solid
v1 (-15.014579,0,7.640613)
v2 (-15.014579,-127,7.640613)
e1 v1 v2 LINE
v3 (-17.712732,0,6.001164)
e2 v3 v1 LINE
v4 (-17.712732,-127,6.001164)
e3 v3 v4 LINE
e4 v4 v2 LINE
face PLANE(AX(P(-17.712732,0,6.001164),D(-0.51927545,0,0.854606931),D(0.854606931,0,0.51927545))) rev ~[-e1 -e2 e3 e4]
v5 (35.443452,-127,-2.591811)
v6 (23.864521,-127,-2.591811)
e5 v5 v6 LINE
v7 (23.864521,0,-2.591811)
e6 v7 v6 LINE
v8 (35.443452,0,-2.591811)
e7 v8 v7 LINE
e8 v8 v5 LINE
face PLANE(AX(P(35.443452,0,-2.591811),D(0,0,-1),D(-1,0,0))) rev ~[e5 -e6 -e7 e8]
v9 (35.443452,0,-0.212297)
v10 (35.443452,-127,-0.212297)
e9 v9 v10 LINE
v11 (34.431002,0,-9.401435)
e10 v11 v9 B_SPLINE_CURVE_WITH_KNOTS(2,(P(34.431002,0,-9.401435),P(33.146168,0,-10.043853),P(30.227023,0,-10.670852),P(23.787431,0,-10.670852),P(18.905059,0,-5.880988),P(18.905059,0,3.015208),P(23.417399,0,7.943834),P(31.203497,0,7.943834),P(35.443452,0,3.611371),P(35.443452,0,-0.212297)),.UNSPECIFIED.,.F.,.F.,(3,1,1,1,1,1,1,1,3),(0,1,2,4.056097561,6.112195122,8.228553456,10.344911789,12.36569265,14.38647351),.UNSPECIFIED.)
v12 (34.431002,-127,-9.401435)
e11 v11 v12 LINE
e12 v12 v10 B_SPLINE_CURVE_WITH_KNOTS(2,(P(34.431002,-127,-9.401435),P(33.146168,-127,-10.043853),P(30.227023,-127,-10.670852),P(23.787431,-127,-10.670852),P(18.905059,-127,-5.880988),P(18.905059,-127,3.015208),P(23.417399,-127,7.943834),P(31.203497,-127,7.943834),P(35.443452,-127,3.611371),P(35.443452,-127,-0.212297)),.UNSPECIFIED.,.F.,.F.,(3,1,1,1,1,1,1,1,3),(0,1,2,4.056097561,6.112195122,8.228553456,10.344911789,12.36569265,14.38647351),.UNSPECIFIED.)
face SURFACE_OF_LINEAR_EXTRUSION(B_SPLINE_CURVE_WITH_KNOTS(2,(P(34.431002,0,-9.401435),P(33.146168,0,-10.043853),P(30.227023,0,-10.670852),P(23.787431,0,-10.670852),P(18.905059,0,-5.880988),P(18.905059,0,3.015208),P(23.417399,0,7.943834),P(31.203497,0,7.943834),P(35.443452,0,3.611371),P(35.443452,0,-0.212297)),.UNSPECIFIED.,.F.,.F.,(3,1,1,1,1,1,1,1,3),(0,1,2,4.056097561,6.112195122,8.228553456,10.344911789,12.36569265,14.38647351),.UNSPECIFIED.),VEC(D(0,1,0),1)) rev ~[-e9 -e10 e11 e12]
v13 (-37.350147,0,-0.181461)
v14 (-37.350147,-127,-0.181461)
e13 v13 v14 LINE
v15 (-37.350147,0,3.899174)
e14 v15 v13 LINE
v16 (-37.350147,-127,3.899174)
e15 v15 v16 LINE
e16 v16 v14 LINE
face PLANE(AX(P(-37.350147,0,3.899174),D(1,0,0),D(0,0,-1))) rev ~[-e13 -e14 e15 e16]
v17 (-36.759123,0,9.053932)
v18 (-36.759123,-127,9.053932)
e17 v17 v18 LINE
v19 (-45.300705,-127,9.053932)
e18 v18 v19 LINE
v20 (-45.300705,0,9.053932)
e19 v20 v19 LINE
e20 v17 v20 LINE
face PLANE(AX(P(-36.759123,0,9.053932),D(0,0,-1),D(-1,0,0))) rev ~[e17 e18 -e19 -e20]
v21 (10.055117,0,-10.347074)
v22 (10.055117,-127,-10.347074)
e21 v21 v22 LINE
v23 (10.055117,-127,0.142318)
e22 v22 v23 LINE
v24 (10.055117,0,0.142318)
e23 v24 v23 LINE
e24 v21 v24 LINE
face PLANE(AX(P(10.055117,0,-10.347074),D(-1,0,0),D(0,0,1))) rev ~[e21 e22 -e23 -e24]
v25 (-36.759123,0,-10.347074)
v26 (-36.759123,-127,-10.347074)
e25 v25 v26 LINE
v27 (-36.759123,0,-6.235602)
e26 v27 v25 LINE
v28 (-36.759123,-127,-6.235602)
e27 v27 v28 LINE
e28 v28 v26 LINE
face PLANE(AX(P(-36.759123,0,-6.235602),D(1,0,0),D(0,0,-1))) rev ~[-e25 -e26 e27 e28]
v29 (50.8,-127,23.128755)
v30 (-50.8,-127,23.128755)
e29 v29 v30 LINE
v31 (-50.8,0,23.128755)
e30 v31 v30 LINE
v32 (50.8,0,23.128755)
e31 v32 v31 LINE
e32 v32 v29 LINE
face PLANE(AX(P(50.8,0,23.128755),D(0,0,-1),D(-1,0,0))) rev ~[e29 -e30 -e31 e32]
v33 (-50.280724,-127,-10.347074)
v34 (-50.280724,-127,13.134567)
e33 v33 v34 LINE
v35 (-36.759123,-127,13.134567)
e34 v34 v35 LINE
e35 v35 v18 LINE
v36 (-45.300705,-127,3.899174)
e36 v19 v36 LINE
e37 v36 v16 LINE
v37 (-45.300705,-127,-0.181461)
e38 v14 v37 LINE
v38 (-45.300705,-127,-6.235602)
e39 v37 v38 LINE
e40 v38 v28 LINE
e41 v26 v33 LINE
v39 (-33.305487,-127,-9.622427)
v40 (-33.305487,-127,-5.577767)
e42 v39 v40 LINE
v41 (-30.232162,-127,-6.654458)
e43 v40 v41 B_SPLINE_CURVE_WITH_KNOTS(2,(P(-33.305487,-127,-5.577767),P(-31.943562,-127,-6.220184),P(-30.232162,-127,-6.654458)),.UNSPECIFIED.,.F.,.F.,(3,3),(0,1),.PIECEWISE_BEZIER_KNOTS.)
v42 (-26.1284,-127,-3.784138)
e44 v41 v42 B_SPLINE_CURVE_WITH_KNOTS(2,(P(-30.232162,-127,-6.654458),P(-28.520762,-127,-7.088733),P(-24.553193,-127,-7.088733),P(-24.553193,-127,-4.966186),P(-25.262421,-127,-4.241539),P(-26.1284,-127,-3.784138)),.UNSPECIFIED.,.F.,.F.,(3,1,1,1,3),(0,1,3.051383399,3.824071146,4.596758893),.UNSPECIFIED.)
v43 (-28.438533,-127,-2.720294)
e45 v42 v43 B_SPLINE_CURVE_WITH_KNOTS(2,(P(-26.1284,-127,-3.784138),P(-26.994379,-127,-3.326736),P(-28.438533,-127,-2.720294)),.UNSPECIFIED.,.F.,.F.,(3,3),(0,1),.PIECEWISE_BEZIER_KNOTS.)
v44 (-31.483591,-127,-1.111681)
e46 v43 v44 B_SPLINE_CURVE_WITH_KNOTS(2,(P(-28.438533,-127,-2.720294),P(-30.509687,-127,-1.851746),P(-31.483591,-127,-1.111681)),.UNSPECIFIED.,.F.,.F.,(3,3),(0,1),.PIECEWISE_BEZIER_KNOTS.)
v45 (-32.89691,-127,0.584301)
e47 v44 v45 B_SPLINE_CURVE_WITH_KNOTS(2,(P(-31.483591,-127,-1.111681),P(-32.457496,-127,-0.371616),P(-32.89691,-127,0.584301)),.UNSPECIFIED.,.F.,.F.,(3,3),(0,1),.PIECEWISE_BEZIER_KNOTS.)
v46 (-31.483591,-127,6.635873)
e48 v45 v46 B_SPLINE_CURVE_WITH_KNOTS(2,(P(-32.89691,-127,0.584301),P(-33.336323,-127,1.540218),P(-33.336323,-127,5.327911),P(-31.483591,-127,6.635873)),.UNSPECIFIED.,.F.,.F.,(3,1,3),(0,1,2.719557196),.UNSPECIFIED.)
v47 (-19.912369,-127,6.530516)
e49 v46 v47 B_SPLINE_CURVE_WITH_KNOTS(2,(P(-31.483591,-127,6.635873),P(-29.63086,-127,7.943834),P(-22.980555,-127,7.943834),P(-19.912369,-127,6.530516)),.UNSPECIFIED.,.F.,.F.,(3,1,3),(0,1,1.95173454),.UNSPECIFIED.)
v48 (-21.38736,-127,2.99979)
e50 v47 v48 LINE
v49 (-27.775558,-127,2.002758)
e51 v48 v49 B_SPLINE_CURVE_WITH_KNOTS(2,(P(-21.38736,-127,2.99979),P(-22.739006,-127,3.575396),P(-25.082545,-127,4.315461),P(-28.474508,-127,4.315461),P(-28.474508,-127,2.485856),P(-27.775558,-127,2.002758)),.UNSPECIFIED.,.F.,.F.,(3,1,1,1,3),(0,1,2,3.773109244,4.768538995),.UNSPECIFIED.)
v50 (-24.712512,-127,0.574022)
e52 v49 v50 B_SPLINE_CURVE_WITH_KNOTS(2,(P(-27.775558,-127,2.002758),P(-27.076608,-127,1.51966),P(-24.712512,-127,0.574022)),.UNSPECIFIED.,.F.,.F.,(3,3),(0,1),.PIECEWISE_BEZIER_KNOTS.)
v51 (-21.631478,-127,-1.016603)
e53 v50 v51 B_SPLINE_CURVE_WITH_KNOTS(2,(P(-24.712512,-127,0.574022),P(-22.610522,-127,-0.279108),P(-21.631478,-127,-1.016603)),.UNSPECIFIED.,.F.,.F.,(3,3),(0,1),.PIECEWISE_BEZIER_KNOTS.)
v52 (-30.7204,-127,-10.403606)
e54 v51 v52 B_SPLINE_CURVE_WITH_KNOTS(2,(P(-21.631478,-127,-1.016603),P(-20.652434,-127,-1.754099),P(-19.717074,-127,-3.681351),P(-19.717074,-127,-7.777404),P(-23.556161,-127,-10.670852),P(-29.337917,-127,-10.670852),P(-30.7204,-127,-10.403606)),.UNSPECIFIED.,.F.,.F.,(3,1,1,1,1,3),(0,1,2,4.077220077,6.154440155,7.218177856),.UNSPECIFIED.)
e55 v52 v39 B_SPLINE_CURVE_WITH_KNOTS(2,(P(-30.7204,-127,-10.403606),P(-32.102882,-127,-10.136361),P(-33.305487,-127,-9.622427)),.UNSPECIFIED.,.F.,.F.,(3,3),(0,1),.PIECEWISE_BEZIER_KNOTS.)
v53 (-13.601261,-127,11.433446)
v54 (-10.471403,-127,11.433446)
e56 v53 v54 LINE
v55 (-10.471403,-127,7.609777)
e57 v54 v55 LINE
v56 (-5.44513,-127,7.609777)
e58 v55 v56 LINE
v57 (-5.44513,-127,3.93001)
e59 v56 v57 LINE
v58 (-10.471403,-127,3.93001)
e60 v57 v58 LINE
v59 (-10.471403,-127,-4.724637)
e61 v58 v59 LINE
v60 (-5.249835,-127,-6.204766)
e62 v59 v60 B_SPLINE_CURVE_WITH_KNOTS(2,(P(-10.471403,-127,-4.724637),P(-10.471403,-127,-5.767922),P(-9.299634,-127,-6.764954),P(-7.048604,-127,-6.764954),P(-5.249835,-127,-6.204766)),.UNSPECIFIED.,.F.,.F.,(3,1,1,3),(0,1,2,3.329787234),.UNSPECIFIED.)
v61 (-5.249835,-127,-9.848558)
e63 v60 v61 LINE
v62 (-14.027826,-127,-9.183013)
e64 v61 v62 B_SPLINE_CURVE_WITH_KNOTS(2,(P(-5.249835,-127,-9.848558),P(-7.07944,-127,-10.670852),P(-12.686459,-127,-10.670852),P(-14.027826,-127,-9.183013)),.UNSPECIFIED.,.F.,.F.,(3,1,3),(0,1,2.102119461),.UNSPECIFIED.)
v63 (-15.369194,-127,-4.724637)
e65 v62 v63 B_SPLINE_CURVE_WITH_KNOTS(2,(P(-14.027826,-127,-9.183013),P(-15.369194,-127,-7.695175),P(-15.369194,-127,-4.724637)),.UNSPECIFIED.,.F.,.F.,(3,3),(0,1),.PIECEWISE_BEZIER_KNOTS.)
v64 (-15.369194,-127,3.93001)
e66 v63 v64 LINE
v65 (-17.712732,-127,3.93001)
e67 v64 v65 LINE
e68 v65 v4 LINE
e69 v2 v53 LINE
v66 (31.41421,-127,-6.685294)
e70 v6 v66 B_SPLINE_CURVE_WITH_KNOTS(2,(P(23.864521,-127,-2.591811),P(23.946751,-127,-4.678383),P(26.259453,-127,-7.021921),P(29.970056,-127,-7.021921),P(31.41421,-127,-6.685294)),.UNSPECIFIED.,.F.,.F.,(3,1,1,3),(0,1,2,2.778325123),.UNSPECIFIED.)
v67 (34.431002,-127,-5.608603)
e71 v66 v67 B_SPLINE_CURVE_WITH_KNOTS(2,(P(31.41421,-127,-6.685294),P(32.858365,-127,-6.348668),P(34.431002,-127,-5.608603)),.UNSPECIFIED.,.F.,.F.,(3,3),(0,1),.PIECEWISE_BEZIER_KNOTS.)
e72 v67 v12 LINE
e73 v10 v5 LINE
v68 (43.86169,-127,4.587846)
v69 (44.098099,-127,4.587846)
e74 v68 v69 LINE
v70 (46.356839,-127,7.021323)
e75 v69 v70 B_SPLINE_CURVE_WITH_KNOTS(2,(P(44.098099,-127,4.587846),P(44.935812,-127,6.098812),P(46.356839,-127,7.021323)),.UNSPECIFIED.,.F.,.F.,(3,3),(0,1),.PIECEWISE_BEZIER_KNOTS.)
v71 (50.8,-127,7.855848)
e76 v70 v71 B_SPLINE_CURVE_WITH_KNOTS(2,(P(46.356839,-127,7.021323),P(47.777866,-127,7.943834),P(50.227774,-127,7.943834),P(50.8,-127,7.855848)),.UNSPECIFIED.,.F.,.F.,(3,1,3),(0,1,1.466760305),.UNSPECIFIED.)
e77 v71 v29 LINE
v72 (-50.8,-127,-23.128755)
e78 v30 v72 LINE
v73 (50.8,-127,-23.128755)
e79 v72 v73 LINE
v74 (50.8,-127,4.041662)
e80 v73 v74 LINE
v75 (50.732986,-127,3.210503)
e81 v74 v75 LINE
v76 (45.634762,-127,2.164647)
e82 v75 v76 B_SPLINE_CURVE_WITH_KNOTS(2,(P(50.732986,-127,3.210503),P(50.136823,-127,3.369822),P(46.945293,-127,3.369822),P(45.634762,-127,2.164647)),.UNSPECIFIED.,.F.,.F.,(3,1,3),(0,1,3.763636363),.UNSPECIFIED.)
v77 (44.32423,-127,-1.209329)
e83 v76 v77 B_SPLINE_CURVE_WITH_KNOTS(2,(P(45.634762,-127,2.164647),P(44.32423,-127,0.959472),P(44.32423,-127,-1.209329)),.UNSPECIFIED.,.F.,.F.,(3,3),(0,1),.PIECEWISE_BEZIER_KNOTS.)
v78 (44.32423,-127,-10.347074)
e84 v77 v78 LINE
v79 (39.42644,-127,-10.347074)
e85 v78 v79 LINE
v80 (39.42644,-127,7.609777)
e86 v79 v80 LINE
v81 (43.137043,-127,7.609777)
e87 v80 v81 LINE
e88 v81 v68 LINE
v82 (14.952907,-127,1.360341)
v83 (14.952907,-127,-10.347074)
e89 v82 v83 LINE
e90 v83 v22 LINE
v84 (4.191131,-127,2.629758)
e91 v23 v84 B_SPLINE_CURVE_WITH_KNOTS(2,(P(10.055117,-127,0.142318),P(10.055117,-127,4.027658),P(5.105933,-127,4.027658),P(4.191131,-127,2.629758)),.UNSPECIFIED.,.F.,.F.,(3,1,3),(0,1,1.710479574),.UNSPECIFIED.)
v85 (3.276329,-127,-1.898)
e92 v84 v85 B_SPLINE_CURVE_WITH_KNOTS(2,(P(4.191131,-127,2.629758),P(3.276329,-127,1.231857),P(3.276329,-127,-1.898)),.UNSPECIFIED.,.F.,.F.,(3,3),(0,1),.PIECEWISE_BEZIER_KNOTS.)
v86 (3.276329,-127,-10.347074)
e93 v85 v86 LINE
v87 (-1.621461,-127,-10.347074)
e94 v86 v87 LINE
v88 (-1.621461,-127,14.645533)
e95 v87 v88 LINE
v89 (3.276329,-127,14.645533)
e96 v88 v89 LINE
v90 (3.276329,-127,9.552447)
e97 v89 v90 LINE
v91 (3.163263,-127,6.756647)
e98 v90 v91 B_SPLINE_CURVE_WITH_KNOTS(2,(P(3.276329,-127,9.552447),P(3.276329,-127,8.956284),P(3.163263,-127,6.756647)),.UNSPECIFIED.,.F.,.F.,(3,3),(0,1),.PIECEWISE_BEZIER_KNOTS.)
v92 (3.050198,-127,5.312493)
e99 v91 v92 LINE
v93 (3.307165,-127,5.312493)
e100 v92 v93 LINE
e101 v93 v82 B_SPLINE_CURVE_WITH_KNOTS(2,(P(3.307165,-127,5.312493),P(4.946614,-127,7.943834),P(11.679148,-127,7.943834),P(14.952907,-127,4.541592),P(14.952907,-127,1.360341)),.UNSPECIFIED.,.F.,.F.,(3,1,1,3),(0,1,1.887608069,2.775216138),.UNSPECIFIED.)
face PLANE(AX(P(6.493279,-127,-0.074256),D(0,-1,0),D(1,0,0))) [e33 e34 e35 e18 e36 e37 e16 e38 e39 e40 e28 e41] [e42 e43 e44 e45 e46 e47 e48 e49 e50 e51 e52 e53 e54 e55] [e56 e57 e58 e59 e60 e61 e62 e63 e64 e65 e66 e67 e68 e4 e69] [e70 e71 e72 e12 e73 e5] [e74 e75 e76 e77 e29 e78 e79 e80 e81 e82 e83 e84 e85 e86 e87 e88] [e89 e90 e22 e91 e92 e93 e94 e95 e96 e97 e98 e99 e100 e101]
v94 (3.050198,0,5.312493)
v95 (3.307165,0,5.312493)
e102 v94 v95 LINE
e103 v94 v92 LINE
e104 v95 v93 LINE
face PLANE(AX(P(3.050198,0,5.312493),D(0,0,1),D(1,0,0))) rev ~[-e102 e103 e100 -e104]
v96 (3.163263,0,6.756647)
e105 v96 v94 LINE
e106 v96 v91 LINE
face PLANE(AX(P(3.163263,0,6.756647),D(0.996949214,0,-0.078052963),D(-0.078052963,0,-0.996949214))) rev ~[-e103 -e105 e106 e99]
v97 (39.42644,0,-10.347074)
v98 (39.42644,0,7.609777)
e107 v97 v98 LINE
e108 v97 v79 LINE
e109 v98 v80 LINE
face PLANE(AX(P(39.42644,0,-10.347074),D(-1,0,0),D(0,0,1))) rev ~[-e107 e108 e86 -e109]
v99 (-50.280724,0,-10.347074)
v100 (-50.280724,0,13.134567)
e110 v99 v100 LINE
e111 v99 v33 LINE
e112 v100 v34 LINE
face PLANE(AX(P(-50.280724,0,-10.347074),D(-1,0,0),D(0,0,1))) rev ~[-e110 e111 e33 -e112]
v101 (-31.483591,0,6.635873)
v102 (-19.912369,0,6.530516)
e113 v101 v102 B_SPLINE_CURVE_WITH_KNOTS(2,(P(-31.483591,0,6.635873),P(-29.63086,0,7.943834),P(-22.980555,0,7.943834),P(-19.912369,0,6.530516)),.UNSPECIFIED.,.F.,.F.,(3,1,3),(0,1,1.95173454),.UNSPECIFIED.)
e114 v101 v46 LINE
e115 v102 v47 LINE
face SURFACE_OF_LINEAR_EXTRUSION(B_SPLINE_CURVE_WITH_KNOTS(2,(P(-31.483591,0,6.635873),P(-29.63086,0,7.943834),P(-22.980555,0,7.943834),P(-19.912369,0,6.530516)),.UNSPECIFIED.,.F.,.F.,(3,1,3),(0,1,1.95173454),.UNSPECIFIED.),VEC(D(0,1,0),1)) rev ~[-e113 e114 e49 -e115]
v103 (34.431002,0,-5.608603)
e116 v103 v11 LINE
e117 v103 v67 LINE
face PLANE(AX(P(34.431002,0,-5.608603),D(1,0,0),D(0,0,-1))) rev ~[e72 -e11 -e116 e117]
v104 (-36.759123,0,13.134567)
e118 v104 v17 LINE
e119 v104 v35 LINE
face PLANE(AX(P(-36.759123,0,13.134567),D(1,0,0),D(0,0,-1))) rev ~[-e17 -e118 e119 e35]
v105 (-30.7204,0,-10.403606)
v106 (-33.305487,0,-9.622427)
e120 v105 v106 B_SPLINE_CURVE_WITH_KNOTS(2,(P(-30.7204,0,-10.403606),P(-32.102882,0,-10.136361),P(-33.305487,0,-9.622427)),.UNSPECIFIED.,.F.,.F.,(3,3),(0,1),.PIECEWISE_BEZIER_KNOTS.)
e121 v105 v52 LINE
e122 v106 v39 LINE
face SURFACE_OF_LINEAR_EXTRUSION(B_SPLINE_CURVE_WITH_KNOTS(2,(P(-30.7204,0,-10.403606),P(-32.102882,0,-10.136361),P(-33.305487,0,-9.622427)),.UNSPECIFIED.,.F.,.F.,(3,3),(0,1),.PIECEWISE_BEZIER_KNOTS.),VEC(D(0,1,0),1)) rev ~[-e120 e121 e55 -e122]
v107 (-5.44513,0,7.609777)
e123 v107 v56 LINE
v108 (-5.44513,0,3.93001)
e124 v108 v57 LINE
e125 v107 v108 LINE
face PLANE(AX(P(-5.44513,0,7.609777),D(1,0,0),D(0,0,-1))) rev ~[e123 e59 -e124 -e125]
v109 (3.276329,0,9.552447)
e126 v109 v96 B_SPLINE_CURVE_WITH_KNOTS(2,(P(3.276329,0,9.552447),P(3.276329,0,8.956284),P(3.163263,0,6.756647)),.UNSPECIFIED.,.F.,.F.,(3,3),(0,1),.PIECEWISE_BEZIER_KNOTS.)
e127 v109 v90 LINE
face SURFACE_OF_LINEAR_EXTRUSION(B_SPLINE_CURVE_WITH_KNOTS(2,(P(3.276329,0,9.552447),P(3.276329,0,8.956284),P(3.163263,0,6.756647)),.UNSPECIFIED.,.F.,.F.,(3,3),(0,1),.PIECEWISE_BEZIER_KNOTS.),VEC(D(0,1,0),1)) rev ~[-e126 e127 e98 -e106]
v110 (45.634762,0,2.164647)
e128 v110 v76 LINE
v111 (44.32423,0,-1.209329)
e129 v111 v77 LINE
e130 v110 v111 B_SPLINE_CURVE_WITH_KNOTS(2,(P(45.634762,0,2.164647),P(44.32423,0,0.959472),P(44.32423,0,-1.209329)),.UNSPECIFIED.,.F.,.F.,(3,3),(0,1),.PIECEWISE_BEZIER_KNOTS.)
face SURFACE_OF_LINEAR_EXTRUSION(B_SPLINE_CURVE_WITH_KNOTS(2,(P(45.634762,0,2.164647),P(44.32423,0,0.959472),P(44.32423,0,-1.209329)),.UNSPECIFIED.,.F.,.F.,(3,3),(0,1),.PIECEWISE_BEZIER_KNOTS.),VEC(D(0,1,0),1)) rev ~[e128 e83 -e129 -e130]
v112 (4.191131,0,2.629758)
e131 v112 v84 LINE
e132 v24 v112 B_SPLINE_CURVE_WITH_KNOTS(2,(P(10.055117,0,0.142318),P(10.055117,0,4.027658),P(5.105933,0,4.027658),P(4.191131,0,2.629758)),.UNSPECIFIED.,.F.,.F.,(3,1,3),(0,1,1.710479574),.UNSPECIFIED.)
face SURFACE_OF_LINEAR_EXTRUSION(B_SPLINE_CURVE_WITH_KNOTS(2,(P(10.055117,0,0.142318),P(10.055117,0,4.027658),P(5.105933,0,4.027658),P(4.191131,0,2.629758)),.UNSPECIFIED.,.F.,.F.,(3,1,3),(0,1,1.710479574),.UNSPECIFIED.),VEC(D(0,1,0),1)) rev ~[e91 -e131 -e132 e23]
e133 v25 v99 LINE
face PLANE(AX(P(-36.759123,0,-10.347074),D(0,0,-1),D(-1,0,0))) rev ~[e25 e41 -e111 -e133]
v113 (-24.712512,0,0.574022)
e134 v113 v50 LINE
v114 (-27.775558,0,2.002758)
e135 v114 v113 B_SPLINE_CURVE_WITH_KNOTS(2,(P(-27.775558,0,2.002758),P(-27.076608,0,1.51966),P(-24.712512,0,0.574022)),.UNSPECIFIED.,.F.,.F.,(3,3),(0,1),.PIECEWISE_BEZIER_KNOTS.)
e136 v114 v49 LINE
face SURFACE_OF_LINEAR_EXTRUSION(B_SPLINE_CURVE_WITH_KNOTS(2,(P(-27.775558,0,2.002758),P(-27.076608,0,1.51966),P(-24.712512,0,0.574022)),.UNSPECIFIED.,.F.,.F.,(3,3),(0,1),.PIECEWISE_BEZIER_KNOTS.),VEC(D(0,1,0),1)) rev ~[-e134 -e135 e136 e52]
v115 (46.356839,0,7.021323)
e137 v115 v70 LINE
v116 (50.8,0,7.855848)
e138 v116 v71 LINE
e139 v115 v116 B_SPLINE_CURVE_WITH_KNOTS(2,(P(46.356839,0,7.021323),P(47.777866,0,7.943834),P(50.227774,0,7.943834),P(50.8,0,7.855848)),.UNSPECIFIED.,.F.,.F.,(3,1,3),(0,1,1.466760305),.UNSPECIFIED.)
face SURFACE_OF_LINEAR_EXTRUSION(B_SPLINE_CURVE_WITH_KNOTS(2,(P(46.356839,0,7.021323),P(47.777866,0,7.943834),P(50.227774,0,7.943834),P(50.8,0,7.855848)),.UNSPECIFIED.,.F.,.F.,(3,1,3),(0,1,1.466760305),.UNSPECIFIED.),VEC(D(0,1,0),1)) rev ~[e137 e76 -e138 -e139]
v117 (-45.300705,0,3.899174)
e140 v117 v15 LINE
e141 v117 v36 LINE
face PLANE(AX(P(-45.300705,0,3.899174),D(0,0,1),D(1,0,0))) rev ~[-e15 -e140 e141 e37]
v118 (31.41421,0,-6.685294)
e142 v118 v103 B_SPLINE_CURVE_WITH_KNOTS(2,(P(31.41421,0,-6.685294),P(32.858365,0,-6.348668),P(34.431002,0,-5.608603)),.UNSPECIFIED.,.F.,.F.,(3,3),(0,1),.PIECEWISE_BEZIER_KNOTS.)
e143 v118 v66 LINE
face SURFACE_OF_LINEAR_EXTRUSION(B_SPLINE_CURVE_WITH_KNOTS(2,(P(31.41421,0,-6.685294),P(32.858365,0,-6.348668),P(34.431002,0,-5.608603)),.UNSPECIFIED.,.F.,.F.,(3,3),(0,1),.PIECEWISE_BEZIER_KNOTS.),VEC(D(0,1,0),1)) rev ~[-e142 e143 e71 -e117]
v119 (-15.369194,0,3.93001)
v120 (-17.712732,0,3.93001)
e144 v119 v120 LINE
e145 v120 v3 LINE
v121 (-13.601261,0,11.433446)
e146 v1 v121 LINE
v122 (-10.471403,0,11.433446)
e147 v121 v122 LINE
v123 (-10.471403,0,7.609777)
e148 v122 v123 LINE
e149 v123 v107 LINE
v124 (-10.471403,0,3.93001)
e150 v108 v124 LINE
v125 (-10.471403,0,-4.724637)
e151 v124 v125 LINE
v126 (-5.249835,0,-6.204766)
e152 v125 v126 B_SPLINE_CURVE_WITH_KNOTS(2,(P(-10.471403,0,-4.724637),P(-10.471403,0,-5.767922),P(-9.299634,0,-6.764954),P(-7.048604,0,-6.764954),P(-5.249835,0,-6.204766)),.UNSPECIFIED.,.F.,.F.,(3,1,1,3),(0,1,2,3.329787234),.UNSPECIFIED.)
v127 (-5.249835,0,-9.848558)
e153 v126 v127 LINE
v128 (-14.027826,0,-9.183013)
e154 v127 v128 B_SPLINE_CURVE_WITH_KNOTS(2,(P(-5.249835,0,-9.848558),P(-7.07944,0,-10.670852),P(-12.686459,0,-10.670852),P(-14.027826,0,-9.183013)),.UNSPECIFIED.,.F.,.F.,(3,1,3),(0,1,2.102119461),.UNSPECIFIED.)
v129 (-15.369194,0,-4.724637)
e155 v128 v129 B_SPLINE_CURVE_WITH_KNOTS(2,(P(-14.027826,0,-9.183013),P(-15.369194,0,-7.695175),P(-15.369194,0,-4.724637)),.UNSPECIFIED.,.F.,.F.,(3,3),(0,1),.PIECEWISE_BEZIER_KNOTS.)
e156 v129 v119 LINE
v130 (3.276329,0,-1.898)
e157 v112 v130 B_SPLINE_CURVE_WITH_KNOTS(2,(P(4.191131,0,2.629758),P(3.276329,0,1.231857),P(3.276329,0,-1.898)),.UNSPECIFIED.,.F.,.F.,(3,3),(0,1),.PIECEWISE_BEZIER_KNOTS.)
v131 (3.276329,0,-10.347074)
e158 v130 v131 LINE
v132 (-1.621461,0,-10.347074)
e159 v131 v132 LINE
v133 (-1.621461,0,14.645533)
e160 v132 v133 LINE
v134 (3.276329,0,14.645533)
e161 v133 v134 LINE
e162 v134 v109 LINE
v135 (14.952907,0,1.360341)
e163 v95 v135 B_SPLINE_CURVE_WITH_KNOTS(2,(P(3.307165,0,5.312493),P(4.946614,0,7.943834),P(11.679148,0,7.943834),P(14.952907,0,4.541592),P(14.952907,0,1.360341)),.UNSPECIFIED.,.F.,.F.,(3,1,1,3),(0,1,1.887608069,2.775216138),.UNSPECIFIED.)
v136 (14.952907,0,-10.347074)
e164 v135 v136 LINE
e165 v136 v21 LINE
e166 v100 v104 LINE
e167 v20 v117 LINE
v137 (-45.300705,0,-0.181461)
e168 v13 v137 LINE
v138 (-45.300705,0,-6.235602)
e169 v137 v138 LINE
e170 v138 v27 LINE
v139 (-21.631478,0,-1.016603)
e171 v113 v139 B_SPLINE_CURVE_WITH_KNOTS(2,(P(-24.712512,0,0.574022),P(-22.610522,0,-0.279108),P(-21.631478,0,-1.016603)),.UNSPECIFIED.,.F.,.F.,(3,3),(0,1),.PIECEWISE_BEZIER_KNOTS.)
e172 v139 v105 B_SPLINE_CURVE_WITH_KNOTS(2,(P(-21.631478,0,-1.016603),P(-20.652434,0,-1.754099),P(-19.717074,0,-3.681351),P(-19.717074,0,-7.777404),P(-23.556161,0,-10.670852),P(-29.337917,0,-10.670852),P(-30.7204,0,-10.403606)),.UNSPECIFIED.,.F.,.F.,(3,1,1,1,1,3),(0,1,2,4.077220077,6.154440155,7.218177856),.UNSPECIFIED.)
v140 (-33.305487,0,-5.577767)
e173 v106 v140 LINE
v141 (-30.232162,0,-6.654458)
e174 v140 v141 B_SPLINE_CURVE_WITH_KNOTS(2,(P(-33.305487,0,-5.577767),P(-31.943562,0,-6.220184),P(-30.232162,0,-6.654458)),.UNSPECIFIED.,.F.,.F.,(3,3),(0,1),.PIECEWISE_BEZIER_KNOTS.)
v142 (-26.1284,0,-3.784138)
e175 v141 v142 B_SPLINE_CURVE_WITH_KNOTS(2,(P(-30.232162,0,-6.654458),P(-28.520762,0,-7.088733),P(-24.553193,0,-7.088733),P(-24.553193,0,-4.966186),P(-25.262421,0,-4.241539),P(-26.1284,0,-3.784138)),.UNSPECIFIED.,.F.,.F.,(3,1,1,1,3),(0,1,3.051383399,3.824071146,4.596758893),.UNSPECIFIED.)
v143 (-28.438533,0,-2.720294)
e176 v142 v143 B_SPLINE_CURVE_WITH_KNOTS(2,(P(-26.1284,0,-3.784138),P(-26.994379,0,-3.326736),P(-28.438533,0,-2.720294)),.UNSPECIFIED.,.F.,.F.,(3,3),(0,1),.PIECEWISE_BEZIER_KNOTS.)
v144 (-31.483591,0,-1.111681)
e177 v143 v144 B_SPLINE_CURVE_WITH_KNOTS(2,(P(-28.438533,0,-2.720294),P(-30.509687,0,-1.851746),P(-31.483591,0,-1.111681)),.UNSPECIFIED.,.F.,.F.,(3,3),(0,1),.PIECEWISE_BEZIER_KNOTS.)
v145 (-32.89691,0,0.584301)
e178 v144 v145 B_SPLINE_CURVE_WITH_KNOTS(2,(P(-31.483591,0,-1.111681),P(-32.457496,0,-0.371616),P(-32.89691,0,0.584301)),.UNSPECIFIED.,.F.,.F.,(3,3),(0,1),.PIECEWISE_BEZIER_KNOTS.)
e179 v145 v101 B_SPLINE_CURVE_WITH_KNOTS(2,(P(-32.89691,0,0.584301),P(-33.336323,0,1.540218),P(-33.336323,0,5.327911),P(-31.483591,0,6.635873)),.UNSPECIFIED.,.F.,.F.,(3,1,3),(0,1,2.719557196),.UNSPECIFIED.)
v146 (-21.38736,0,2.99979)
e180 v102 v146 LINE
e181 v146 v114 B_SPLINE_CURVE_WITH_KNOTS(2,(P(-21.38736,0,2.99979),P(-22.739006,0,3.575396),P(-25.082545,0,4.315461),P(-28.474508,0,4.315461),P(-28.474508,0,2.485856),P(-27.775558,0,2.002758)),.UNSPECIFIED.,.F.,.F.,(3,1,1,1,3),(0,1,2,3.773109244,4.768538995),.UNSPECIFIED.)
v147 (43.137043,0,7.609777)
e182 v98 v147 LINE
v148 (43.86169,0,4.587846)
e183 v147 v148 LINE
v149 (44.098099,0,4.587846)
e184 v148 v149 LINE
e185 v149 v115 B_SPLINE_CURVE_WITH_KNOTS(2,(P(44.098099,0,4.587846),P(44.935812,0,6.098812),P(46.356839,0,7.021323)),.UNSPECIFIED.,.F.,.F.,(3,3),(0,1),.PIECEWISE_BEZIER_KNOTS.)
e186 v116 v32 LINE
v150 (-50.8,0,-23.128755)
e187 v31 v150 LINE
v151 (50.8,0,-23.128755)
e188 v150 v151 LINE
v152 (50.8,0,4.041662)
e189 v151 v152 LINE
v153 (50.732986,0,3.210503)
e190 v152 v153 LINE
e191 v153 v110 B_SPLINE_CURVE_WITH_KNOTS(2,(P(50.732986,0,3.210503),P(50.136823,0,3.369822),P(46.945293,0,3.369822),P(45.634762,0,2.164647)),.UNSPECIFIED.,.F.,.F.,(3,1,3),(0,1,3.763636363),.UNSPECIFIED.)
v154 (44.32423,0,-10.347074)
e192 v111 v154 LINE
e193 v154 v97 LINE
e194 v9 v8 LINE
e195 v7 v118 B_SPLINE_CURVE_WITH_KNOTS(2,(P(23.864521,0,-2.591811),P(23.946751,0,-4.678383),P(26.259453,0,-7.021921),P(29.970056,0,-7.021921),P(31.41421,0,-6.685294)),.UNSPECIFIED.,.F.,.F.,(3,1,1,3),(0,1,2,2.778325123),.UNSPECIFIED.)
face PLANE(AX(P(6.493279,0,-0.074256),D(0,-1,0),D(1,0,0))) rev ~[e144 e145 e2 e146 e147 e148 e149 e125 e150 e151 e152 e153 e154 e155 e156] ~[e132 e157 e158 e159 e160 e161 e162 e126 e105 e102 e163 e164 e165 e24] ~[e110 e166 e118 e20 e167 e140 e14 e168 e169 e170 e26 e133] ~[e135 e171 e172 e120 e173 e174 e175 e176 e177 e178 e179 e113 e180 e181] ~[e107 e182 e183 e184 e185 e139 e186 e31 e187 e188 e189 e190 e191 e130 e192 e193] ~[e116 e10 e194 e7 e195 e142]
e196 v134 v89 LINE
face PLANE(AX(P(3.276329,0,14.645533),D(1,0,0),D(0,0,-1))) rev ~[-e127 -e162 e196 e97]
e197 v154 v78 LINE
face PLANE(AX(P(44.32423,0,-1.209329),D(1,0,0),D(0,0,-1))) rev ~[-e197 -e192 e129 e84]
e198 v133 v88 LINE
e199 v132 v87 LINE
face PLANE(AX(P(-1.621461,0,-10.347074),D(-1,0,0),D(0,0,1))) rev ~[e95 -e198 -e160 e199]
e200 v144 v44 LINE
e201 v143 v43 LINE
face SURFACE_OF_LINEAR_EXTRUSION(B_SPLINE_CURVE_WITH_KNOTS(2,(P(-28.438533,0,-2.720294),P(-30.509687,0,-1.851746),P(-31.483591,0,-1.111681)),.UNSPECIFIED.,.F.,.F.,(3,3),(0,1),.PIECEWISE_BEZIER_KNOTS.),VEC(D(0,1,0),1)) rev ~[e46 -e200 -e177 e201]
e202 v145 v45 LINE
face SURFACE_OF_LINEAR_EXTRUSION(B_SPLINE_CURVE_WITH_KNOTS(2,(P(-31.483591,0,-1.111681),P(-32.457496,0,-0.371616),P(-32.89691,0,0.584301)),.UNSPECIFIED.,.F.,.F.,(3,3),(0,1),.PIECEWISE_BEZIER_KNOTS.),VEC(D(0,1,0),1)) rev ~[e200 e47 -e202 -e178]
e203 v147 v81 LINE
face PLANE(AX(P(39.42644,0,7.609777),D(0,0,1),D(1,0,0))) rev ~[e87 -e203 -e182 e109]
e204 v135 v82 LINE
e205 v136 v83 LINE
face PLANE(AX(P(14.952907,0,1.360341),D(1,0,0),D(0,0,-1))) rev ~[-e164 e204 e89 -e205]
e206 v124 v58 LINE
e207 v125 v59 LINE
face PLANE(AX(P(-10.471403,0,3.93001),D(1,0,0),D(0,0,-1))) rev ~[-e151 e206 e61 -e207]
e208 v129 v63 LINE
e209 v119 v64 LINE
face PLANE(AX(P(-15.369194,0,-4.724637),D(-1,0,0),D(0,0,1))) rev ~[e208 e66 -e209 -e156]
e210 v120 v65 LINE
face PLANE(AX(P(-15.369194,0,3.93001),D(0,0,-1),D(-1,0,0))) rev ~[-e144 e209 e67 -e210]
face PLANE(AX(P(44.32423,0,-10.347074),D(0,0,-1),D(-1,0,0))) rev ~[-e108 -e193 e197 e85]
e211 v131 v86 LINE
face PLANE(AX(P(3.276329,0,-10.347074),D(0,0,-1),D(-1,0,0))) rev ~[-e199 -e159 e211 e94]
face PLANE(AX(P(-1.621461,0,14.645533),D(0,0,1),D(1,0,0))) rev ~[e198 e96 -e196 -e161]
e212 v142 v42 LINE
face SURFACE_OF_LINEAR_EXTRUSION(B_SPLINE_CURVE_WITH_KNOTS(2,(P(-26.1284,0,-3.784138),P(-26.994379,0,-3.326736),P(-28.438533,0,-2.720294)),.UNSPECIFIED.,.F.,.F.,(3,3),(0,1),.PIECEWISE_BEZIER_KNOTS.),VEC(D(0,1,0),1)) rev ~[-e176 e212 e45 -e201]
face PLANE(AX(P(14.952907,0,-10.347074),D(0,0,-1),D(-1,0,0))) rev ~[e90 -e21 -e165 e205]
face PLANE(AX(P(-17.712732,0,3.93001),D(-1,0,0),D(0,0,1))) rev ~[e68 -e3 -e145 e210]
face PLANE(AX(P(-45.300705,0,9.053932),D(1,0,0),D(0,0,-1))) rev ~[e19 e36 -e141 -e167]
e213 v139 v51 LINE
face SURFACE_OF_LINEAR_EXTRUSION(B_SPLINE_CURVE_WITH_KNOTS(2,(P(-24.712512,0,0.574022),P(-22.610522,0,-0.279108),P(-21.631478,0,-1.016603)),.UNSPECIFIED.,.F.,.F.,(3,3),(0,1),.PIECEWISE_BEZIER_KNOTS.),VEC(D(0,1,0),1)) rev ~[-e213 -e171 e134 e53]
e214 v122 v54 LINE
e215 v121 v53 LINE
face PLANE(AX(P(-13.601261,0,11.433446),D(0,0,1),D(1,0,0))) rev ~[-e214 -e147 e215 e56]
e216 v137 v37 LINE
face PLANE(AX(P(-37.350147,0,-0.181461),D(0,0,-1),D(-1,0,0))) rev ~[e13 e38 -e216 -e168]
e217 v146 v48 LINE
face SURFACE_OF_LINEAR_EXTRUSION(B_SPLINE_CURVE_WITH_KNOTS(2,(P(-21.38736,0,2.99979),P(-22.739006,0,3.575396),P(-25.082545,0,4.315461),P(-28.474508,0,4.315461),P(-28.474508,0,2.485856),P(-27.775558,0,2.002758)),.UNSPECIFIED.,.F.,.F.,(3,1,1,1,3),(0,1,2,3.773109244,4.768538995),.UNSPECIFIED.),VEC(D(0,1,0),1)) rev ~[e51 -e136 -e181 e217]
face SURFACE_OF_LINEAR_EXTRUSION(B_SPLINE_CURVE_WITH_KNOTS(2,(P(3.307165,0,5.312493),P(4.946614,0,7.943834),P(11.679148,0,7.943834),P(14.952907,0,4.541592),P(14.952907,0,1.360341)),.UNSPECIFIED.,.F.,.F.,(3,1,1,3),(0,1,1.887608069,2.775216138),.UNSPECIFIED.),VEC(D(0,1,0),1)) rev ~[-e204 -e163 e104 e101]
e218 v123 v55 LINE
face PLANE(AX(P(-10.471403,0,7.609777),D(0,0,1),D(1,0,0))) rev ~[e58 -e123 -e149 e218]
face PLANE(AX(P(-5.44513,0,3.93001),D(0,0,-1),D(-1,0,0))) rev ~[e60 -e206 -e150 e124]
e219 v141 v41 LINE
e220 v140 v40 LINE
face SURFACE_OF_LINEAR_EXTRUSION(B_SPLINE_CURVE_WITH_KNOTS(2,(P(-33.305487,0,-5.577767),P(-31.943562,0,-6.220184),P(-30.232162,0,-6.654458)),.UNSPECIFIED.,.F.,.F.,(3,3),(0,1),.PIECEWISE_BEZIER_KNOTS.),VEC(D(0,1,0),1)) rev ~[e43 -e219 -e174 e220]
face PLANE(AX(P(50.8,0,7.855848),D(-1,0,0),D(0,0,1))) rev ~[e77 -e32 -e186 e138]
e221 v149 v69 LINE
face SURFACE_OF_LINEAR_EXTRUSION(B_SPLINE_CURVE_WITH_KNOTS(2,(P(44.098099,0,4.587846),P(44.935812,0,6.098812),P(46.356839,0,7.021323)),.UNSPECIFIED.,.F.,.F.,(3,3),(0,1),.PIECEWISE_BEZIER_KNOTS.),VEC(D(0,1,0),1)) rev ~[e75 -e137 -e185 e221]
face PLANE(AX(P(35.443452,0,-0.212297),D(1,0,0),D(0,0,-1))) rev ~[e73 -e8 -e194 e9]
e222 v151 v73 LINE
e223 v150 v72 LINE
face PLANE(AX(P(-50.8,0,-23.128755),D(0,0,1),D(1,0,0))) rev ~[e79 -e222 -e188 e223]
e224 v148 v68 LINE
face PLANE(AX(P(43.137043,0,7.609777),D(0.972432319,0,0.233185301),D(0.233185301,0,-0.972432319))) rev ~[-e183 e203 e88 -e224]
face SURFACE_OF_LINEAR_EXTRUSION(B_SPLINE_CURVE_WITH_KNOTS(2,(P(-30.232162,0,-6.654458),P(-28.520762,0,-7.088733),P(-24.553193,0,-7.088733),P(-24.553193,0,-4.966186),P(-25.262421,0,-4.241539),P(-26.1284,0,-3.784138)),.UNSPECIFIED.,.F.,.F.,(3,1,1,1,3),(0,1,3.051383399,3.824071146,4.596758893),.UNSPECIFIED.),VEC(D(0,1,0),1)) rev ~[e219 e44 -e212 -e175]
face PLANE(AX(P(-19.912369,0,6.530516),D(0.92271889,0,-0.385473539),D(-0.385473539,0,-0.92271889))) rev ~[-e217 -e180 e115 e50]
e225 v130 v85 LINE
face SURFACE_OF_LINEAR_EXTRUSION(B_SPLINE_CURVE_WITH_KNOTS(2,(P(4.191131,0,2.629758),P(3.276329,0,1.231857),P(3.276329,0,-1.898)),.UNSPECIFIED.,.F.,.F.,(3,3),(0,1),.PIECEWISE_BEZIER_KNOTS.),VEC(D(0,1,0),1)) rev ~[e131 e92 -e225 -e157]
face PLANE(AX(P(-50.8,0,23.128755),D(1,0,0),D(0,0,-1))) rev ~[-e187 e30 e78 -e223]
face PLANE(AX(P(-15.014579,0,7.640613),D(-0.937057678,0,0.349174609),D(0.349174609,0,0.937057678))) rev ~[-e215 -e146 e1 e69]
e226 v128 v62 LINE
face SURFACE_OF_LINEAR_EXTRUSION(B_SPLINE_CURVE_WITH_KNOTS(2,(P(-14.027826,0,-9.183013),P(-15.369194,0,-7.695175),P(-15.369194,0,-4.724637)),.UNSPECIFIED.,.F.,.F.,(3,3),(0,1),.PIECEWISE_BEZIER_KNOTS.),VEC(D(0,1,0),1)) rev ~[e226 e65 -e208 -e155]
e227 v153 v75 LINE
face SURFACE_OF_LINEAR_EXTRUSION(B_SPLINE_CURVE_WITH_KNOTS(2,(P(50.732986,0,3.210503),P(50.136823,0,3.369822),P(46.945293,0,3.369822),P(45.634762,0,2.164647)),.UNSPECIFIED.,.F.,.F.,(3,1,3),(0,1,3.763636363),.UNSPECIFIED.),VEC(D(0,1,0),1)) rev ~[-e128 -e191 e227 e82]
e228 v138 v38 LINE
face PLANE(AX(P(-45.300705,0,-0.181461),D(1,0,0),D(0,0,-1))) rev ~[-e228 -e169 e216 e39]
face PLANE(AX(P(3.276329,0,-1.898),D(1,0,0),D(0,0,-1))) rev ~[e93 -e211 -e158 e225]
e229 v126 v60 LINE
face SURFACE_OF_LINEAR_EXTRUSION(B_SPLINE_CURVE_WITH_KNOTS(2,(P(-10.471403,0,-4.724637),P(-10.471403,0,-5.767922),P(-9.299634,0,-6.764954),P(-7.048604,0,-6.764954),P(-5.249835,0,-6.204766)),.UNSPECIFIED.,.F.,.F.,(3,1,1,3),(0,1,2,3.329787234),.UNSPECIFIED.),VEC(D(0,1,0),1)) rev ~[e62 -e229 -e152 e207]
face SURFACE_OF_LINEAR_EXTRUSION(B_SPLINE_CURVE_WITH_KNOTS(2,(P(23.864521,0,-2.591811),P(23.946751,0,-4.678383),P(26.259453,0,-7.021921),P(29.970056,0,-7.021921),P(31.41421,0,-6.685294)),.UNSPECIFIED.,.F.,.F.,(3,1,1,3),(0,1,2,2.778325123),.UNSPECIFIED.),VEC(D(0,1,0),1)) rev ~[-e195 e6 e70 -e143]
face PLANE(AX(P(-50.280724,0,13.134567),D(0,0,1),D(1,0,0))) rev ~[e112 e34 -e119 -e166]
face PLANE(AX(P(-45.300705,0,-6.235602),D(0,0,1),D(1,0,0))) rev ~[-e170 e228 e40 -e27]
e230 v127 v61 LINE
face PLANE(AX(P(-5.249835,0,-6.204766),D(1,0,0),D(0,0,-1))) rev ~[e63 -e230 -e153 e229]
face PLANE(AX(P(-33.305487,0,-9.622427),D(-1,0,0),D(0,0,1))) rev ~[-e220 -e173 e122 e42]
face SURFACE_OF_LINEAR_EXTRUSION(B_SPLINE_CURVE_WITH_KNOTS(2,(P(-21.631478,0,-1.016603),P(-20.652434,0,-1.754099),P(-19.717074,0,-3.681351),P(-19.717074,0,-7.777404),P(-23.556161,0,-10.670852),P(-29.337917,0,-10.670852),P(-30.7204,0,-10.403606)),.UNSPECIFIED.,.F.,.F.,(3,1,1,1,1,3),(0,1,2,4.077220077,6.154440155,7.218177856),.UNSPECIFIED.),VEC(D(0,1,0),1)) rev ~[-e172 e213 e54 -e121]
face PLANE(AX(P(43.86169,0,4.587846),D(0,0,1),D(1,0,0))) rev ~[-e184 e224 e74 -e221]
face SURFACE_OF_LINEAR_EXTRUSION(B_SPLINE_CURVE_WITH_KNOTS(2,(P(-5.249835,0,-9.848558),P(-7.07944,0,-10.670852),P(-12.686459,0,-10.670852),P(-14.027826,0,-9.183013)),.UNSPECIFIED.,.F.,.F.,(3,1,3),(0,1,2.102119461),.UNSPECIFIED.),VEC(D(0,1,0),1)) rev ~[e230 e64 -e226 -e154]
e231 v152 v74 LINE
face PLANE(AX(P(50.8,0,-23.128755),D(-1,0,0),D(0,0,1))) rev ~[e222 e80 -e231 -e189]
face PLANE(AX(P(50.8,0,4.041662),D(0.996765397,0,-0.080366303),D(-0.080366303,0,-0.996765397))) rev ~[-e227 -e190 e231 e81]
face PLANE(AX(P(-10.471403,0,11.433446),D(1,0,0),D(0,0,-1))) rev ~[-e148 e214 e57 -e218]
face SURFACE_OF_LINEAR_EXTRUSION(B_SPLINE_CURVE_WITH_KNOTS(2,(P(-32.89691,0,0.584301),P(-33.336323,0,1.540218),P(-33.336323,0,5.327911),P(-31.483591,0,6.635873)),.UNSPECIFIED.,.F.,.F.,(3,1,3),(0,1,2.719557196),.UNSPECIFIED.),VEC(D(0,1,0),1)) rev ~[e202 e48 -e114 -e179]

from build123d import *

# Parameters (mm, degrees)
F1_DEPTH = 127


with BuildPart() as f1:
    # F0 (on Front) → F1 (new body)
    with BuildSketch(Plane.XZ):
        with BuildLine():
            Line((50.8, 7.8558477352), (50.8, 23.1287553906))
            Line((50.8, 23.1287553906), (-50.8, 23.1287553906))
            Line((-50.8, 23.1287553906), (-50.8, -23.1287553906))
            Line((-50.8, -23.1287553906), (50.8, -23.1287553906))
            Line((50.8, -23.1287553906), (50.8, 4.0416623693))
            Line((50.8, 4.0416623693), (50.7329860296, 3.2105029863))
            add(Edge.make_bspline(
                [(50.7329860296, 3.2105029863), (50.1368226928, 3.3698224987), (49.2888317395, 3.3698224987)],
                knots=[0, 0, 0, 1, 1, 1], degree=2))
            add(Edge.make_bspline(
                [(49.2888317395, 3.3698224987), (46.9452931051, 3.3698224987), (45.6347616319, 2.1646474773)],
                knots=[0, 0, 0, 1, 1, 1], degree=2))
            add(Edge.make_bspline(
                [(45.6347616319, 2.1646474773), (44.3242301588, 0.9594724559), (44.3242301588, -1.2093286488)],
                knots=[0, 0, 0, 1, 1, 1], degree=2))
            Line((44.3242301588, -1.2093286488), (44.3242301588, -10.3470735873))
            Line((44.3242301588, -10.3470735873), (39.4264399864, -10.3470735873))
            Line((39.4264399864, -10.3470735873), (39.4264399864, 7.6097772649))
            Line((39.4264399864, 7.6097772649), (43.1370428242, 7.6097772649))
            Line((43.1370428242, 7.6097772649), (43.8616896388, 4.5878458679))
            Line((43.8616896388, 4.5878458679), (44.0980992379, 4.5878458679))
            add(Edge.make_bspline(
                [(44.0980992379, 4.5878458679), (44.9358115129, 6.0988115664), (46.356838777, 7.0213229368)],
                knots=[0, 0, 0, 1, 1, 1], degree=2))
            add(Edge.make_bspline(
                [(46.356838777, 7.0213229368), (47.777866041, 7.9438343071), (49.448151252, 7.9438343071)],
                knots=[0, 0, 0, 1, 1, 1], degree=2))
            add(Edge.make_bspline(
                [(49.448151252, 7.9438343071), (50.2277740858, 7.9438343071), (50.8, 7.8558477352)],
                knots=[0, 0, 0, 0.7819438092, 0.7819438092, 0.7819438092], degree=2))
        make_face()
        with BuildLine():
            add(Edge.make_bspline(
                [(-20.1847543566, -2.7177246777), (-19.7170744975, -3.6813507609), (-19.7170744975, -5.0124395905)],
                knots=[0, 0, 0, 1, 1, 1], degree=2))
            add(Edge.make_bspline(
                [(-19.7170744975, -5.0124395905), (-19.7170744975, -7.777404032), (-21.6366176553, -9.2241279916)],
                knots=[0, 0, 0, 1, 1, 1], degree=2))
            add(Edge.make_bspline(
                [(-21.6366176553, -9.2241279916), (-23.5561608131, -10.6708519512), (-27.3798291113, -10.6708519512)],
                knots=[0, 0, 0, 1, 1, 1], degree=2))
            add(Edge.make_bspline(
                [(-27.3798291113, -10.6708519512), (-29.3379173125, -10.6708519512), (-30.7203995332, -10.4036063175)],
                knots=[0, 0, 0, 1, 1, 1], degree=2))
            add(Edge.make_bspline(
                [(-30.7203995332, -10.4036063175), (-32.1028817539, -10.1363606837), (-33.3054871058, -9.6224267727)],
                knots=[0, 0, 0, 1, 1, 1], degree=2))
            Line((-33.3054871058, -9.6224267727), (-33.3054871058, -5.5777668927))
            add(Edge.make_bspline(
                [(-33.3054871058, -5.5777668927), (-31.9435622415, -6.2201842815), (-30.2321623177, -6.6544584364)],
                knots=[0, 0, 0, 1, 1, 1], degree=2))
            add(Edge.make_bspline(
                [(-30.2321623177, -6.6544584364), (-28.5207623939, -7.0887325912), (-27.2205095989, -7.0887325912)],
                knots=[0, 0, 0, 1, 1, 1], degree=2))
            add(Edge.make_bspline(
                [(-27.2205095989, -7.0887325912), (-24.5531926006, -7.0887325912), (-24.5531926006, -5.546930858)],
                knots=[0, 0, 0, 1, 1, 1], degree=2))
            add(Edge.make_bspline(
                [(-24.5531926006, -5.546930858), (-24.5531926006, -4.9661855386), (-24.9078069992, -4.6038621313)],
                knots=[0, 0, 0, 1, 1, 1], degree=2))
            add(Edge.make_bspline(
                [(-24.9078069992, -4.6038621313), (-25.2624213978, -4.241538724), (-26.1284000379, -3.7841375431)],
                knots=[0, 0, 0, 1, 1, 1], degree=2))
            add(Edge.make_bspline(
                [(-26.1284000379, -3.7841375431), (-26.9943786781, -3.3267363623), (-28.4385329681, -2.7202943473)],
                knots=[0, 0, 0, 1, 1, 1], degree=2))
            add(Edge.make_bspline(
                [(-28.4385329681, -2.7202943473), (-30.5096866297, -1.8517460376), (-31.4835913911, -1.1116812057)],
                knots=[0, 0, 0, 1, 1, 1], degree=2))
            add(Edge.make_bspline(
                [(-31.4835913911, -1.1116812057), (-32.4574961525, -0.3716163737), (-32.8969096465, 0.5843007008)],
                knots=[0, 0, 0, 1, 1, 1], degree=2))
            add(Edge.make_bspline(
                [(-32.8969096465, 0.5843007008), (-33.3363231404, 1.5402177754), (-33.3363231404, 2.9329786743)],
                knots=[0, 0, 0, 1, 1, 1], degree=2))
            add(Edge.make_bspline(
                [(-33.3363231404, 2.9329786743), (-33.3363231404, 5.3279106998), (-31.4835913911, 6.6358725035)],
                knots=[0, 0, 0, 1, 1, 1], degree=2))
            add(Edge.make_bspline(
                [(-31.4835913911, 6.6358725035), (-29.6308596418, 7.9438343071), (-26.2234778115, 7.9438343071)],
                knots=[0, 0, 0, 1, 1, 1], degree=2))
            add(Edge.make_bspline(
                [(-26.2234778115, 7.9438343071), (-22.9805548327, 7.9438343071), (-19.9123693837, 6.5305160517)],
                knots=[0, 0, 0, 1, 1, 1], degree=2))
            Line((-19.9123693837, 6.5305160517), (-21.3873597085, 2.9997900828))
            add(Edge.make_bspline(
                [(-21.3873597085, 2.9997900828), (-22.7390058945, 3.5753960631), (-23.9107752117, 3.9454284791)],
                knots=[0, 0, 0, 1, 1, 1], degree=2))
            add(Edge.make_bspline(
                [(-23.9107752117, 3.9454284791), (-25.0825445289, 4.3154608951), (-26.3057072372, 4.3154608951)],
                knots=[0, 0, 0, 1, 1, 1], degree=2))
            add(Edge.make_bspline(
                [(-26.3057072372, 4.3154608951), (-28.4745083419, 4.3154608951), (-28.4745083419, 3.1436915779)],
                knots=[0, 0, 0, 1, 1, 1], degree=2))
            add(Edge.make_bspline(
                [(-28.4745083419, 3.1436915779), (-28.4745083419, 2.4858561717), (-27.7755582229, 2.0027582953)],
                knots=[0, 0, 0, 1, 1, 1], degree=2))
            add(Edge.make_bspline(
                [(-27.7755582229, 2.0027582953), (-27.0766081038, 1.5196604189), (-24.712512113, 0.5740220226)],
                knots=[0, 0, 0, 1, 1, 1], degree=2))
            add(Edge.make_bspline(
                [(-24.712512113, 0.5740220226), (-22.6105224168, -0.2791082698), (-21.6314783162, -1.0166034321)],
                knots=[0, 0, 0, 1, 1, 1], degree=2))
            add(Edge.make_bspline(
                [(-21.6314783162, -1.0166034321), (-20.6524342157, -1.7540985945), (-20.1847543566, -2.7177246777)],
                knots=[0, 0, 0, 1, 1, 1], degree=2))
        make_face(mode=Mode.SUBTRACT)
        with BuildLine():
            add(Edge.make_bspline(
                [(31.686595286, -10.3573522655), (30.2270229786, -10.6708519512), (28.1198939433, -10.6708519512)],
                knots=[0, 0, 0, 1, 1, 1], degree=2))
            add(Edge.make_bspline(
                [(28.1198939433, -10.6708519512), (23.7874310731, -10.6708519512), (21.3462449956, -8.2759199257)],
                knots=[0, 0, 0, 1, 1, 1], degree=2))
            add(Edge.make_bspline(
                [(21.3462449956, -8.2759199257), (18.9050589181, -5.8809879002), (18.9050589181, -1.4971316389)],
                knots=[0, 0, 0, 1, 1, 1], degree=2))
            add(Edge.make_bspline(
                [(18.9050589181, -1.4971316389), (18.9050589181, 3.0152081001), (21.1612287876, 5.4795212036)],
                knots=[0, 0, 0, 1, 1, 1], degree=2))
            add(Edge.make_bspline(
                [(21.1612287876, 5.4795212036), (23.4173986571, 7.9438343071), (27.4003864678, 7.9438343071)],
                knots=[0, 0, 0, 1, 1, 1], degree=2))
            add(Edge.make_bspline(
                [(27.4003864678, 7.9438343071), (31.2034974096, 7.9438343071), (33.3234747927, 5.777602872)],
                knots=[0, 0, 0, 1, 1, 1], degree=2))
            add(Edge.make_bspline(
                [(33.3234747927, 5.777602872), (35.4434521758, 3.6113714369), (35.4434521758, -0.2122968613)],
                knots=[0, 0, 0, 1, 1, 1], degree=2))
            Line((35.4434521758, -0.2122968613), (35.4434521758, -2.5918108695))
            Line((35.4434521758, -2.5918108695), (23.8645211597, -2.5918108695))
            add(Edge.make_bspline(
                [(23.8645211597, -2.5918108695), (23.9467505855, -4.6783825484), (25.1031018854, -5.8501518656)],
                knots=[0, 0, 0, 1, 1, 1], degree=2))
            add(Edge.make_bspline(
                [(25.1031018854, -5.8501518656), (26.2594531853, -7.0219211828), (28.3460248641, -7.0219211828)],
                knots=[0, 0, 0, 1, 1, 1], degree=2))
            add(Edge.make_bspline(
                [(28.3460248641, -7.0219211828), (29.9700560231, -7.0219211828), (31.4142103131, -6.685294471)],
                knots=[0, 0, 0, 1, 1, 1], degree=2))
            add(Edge.make_bspline(
                [(31.4142103131, -6.685294471), (32.8583646032, -6.3486677593), (34.431002371, -5.6086029274)],
                knots=[0, 0, 0, 1, 1, 1], degree=2))
            Line((34.431002371, -5.6086029274), (34.431002371, -9.4014351909))
            add(Edge.make_bspline(
                [(34.431002371, -9.4014351909), (33.1461675934, -10.0438525798), (31.686595286, -10.3573522655)],
                knots=[0, 0, 0, 1, 1, 1], degree=2))
        make_face(mode=Mode.SUBTRACT)
        Polygon((-36.7591229881, -6.2356022989), (-36.7591229881, -10.3470735873), (-50.2807241879, -10.3470735873), (-50.2807241879, 13.1345668087), (-36.7591229881, 13.1345668087), (-36.7591229881, 9.053931555), (-45.3007045898, 9.053931555), (-45.3007045898, 3.8991744271), (-37.3501469858, 3.8991744271), (-37.3501469858, -0.1814608267), (-45.3007045898, -0.1814608267), (-45.3007045898, -6.2356022989), align=None, mode=Mode.SUBTRACT)
        with BuildLine():
            add(Edge.make_bspline(
                [(-9.8855187791, -6.2664383335), (-9.2996341205, -6.7649542272), (-8.3334383677, -6.7649542272)],
                knots=[0, 0, 0, 1, 1, 1], degree=2))
            add(Edge.make_bspline(
                [(-8.3334383677, -6.7649542272), (-7.0486035901, -6.7649542272), (-5.2498349014, -6.2047662642)],
                knots=[0, 0, 0, 1, 1, 1], degree=2))
            Line((-5.2498349014, -6.2047662642), (-5.2498349014, -9.8485576936))
            add(Edge.make_bspline(
                [(-5.2498349014, -9.8485576936), (-7.0794396248, -10.6708519512), (-9.7467566231, -10.6708519512)],
                knots=[0, 0, 0, 1, 1, 1], degree=2))
            add(Edge.make_bspline(
                [(-9.7467566231, -10.6708519512), (-12.6864585943, -10.6708519512), (-14.0278261022, -9.1830132787)],
                knots=[0, 0, 0, 1, 1, 1], degree=2))
            add(Edge.make_bspline(
                [(-14.0278261022, -9.1830132787), (-15.36919361, -7.6951746062), (-15.36919361, -4.7246366004)],
                knots=[0, 0, 0, 1, 1, 1], degree=2))
            Line((-15.36919361, -4.7246366004), (-15.36919361, 3.9300104618))
            Line((-15.36919361, 3.9300104618), (-17.7127322444, 3.9300104618))
            Line((-17.7127322444, 3.9300104618), (-17.7127322444, 6.0011641233))
            Line((-17.7127322444, 6.0011641233), (-15.0145792114, 7.6406132996))
            Line((-15.0145792114, 7.6406132996), (-13.601260956, 11.4334455631))
            Line((-13.601260956, 11.4334455631), (-10.4714034377, 11.4334455631))
            Line((-10.4714034377, 11.4334455631), (-10.4714034377, 7.6097772649))
            Line((-10.4714034377, 7.6097772649), (-5.4451297876, 7.6097772649))
            Line((-5.4451297876, 7.6097772649), (-5.4451297876, 3.9300104618))
            Line((-5.4451297876, 3.9300104618), (-10.4714034377, 3.9300104618))
            Line((-10.4714034377, 3.9300104618), (-10.4714034377, -4.7246366004))
            add(Edge.make_bspline(
                [(-10.4714034377, -4.7246366004), (-10.4714034377, -5.7679224398), (-9.8855187791, -6.2664383335)],
                knots=[0, 0, 0, 1, 1, 1], degree=2))
        make_face(mode=Mode.SUBTRACT)
        with BuildLine():
            Line((14.9529071421, 1.3603409065), (14.9529071421, -10.3470735873))
            Line((14.9529071421, -10.3470735873), (10.0551169698, -10.3470735873))
            Line((10.0551169698, -10.3470735873), (10.0551169698, 0.1423175373))
            add(Edge.make_bspline(
                [(10.0551169698, 0.1423175373), (10.0551169698, 4.0276579049), (7.1616690505, 4.0276579049)],
                knots=[0, 0, 0, 1, 1, 1], degree=2))
            add(Edge.make_bspline(
                [(7.1616690505, 4.0276579049), (5.1059334063, 4.0276579049), (4.1911310446, 2.6297576668)],
                knots=[0, 0, 0, 1, 1, 1], degree=2))
            add(Edge.make_bspline(
                [(4.1911310446, 2.6297576668), (3.276328683, 1.2318574287), (3.276328683, -1.8980000896)],
                knots=[0, 0, 0, 1, 1, 1], degree=2))
            Line((3.276328683, -1.8980000896), (3.276328683, -10.3470735873))
            Line((3.276328683, -10.3470735873), (-1.6214614894, -10.3470735873))
            Line((-1.6214614894, -10.3470735873), (-1.6214614894, 14.6455325072))
            Line((-1.6214614894, 14.6455325072), (3.276328683, 14.6455325072))
            Line((3.276328683, 14.6455325072), (3.276328683, 9.5524474487))
            add(Edge.make_bspline(
                [(3.276328683, 9.5524474487), (3.276328683, 8.9562841119), (3.1632632225, 6.7566469726)],
                knots=[0, 0, 0, 1, 1, 1], degree=2))
            Line((3.1632632225, 6.7566469726), (3.0501977621, 5.3124926825))
            Line((3.0501977621, 5.3124926825), (3.3071647176, 5.3124926825))
            add(Edge.make_bspline(
                [(3.3071647176, 5.3124926825), (4.9466138939, 7.9438343071), (8.5133152366, 7.9438343071)],
                knots=[0, 0, 0, 1, 1, 1], degree=2))
            add(Edge.make_bspline(
                [(8.5133152366, 7.9438343071), (11.6791481287, 7.9438343071), (13.3160276354, 6.2427130615)],
                knots=[0, 0, 0, 1, 1, 1], degree=2))
            add(Edge.make_bspline(
                [(13.3160276354, 6.2427130615), (14.9529071421, 4.5415918159), (14.9529071421, 1.3603409065)],
                knots=[0, 0, 0, 1, 1, 1], degree=2))
        make_face(mode=Mode.SUBTRACT)
    extrude(amount=F1_DEPTH)


solid = f1.part
